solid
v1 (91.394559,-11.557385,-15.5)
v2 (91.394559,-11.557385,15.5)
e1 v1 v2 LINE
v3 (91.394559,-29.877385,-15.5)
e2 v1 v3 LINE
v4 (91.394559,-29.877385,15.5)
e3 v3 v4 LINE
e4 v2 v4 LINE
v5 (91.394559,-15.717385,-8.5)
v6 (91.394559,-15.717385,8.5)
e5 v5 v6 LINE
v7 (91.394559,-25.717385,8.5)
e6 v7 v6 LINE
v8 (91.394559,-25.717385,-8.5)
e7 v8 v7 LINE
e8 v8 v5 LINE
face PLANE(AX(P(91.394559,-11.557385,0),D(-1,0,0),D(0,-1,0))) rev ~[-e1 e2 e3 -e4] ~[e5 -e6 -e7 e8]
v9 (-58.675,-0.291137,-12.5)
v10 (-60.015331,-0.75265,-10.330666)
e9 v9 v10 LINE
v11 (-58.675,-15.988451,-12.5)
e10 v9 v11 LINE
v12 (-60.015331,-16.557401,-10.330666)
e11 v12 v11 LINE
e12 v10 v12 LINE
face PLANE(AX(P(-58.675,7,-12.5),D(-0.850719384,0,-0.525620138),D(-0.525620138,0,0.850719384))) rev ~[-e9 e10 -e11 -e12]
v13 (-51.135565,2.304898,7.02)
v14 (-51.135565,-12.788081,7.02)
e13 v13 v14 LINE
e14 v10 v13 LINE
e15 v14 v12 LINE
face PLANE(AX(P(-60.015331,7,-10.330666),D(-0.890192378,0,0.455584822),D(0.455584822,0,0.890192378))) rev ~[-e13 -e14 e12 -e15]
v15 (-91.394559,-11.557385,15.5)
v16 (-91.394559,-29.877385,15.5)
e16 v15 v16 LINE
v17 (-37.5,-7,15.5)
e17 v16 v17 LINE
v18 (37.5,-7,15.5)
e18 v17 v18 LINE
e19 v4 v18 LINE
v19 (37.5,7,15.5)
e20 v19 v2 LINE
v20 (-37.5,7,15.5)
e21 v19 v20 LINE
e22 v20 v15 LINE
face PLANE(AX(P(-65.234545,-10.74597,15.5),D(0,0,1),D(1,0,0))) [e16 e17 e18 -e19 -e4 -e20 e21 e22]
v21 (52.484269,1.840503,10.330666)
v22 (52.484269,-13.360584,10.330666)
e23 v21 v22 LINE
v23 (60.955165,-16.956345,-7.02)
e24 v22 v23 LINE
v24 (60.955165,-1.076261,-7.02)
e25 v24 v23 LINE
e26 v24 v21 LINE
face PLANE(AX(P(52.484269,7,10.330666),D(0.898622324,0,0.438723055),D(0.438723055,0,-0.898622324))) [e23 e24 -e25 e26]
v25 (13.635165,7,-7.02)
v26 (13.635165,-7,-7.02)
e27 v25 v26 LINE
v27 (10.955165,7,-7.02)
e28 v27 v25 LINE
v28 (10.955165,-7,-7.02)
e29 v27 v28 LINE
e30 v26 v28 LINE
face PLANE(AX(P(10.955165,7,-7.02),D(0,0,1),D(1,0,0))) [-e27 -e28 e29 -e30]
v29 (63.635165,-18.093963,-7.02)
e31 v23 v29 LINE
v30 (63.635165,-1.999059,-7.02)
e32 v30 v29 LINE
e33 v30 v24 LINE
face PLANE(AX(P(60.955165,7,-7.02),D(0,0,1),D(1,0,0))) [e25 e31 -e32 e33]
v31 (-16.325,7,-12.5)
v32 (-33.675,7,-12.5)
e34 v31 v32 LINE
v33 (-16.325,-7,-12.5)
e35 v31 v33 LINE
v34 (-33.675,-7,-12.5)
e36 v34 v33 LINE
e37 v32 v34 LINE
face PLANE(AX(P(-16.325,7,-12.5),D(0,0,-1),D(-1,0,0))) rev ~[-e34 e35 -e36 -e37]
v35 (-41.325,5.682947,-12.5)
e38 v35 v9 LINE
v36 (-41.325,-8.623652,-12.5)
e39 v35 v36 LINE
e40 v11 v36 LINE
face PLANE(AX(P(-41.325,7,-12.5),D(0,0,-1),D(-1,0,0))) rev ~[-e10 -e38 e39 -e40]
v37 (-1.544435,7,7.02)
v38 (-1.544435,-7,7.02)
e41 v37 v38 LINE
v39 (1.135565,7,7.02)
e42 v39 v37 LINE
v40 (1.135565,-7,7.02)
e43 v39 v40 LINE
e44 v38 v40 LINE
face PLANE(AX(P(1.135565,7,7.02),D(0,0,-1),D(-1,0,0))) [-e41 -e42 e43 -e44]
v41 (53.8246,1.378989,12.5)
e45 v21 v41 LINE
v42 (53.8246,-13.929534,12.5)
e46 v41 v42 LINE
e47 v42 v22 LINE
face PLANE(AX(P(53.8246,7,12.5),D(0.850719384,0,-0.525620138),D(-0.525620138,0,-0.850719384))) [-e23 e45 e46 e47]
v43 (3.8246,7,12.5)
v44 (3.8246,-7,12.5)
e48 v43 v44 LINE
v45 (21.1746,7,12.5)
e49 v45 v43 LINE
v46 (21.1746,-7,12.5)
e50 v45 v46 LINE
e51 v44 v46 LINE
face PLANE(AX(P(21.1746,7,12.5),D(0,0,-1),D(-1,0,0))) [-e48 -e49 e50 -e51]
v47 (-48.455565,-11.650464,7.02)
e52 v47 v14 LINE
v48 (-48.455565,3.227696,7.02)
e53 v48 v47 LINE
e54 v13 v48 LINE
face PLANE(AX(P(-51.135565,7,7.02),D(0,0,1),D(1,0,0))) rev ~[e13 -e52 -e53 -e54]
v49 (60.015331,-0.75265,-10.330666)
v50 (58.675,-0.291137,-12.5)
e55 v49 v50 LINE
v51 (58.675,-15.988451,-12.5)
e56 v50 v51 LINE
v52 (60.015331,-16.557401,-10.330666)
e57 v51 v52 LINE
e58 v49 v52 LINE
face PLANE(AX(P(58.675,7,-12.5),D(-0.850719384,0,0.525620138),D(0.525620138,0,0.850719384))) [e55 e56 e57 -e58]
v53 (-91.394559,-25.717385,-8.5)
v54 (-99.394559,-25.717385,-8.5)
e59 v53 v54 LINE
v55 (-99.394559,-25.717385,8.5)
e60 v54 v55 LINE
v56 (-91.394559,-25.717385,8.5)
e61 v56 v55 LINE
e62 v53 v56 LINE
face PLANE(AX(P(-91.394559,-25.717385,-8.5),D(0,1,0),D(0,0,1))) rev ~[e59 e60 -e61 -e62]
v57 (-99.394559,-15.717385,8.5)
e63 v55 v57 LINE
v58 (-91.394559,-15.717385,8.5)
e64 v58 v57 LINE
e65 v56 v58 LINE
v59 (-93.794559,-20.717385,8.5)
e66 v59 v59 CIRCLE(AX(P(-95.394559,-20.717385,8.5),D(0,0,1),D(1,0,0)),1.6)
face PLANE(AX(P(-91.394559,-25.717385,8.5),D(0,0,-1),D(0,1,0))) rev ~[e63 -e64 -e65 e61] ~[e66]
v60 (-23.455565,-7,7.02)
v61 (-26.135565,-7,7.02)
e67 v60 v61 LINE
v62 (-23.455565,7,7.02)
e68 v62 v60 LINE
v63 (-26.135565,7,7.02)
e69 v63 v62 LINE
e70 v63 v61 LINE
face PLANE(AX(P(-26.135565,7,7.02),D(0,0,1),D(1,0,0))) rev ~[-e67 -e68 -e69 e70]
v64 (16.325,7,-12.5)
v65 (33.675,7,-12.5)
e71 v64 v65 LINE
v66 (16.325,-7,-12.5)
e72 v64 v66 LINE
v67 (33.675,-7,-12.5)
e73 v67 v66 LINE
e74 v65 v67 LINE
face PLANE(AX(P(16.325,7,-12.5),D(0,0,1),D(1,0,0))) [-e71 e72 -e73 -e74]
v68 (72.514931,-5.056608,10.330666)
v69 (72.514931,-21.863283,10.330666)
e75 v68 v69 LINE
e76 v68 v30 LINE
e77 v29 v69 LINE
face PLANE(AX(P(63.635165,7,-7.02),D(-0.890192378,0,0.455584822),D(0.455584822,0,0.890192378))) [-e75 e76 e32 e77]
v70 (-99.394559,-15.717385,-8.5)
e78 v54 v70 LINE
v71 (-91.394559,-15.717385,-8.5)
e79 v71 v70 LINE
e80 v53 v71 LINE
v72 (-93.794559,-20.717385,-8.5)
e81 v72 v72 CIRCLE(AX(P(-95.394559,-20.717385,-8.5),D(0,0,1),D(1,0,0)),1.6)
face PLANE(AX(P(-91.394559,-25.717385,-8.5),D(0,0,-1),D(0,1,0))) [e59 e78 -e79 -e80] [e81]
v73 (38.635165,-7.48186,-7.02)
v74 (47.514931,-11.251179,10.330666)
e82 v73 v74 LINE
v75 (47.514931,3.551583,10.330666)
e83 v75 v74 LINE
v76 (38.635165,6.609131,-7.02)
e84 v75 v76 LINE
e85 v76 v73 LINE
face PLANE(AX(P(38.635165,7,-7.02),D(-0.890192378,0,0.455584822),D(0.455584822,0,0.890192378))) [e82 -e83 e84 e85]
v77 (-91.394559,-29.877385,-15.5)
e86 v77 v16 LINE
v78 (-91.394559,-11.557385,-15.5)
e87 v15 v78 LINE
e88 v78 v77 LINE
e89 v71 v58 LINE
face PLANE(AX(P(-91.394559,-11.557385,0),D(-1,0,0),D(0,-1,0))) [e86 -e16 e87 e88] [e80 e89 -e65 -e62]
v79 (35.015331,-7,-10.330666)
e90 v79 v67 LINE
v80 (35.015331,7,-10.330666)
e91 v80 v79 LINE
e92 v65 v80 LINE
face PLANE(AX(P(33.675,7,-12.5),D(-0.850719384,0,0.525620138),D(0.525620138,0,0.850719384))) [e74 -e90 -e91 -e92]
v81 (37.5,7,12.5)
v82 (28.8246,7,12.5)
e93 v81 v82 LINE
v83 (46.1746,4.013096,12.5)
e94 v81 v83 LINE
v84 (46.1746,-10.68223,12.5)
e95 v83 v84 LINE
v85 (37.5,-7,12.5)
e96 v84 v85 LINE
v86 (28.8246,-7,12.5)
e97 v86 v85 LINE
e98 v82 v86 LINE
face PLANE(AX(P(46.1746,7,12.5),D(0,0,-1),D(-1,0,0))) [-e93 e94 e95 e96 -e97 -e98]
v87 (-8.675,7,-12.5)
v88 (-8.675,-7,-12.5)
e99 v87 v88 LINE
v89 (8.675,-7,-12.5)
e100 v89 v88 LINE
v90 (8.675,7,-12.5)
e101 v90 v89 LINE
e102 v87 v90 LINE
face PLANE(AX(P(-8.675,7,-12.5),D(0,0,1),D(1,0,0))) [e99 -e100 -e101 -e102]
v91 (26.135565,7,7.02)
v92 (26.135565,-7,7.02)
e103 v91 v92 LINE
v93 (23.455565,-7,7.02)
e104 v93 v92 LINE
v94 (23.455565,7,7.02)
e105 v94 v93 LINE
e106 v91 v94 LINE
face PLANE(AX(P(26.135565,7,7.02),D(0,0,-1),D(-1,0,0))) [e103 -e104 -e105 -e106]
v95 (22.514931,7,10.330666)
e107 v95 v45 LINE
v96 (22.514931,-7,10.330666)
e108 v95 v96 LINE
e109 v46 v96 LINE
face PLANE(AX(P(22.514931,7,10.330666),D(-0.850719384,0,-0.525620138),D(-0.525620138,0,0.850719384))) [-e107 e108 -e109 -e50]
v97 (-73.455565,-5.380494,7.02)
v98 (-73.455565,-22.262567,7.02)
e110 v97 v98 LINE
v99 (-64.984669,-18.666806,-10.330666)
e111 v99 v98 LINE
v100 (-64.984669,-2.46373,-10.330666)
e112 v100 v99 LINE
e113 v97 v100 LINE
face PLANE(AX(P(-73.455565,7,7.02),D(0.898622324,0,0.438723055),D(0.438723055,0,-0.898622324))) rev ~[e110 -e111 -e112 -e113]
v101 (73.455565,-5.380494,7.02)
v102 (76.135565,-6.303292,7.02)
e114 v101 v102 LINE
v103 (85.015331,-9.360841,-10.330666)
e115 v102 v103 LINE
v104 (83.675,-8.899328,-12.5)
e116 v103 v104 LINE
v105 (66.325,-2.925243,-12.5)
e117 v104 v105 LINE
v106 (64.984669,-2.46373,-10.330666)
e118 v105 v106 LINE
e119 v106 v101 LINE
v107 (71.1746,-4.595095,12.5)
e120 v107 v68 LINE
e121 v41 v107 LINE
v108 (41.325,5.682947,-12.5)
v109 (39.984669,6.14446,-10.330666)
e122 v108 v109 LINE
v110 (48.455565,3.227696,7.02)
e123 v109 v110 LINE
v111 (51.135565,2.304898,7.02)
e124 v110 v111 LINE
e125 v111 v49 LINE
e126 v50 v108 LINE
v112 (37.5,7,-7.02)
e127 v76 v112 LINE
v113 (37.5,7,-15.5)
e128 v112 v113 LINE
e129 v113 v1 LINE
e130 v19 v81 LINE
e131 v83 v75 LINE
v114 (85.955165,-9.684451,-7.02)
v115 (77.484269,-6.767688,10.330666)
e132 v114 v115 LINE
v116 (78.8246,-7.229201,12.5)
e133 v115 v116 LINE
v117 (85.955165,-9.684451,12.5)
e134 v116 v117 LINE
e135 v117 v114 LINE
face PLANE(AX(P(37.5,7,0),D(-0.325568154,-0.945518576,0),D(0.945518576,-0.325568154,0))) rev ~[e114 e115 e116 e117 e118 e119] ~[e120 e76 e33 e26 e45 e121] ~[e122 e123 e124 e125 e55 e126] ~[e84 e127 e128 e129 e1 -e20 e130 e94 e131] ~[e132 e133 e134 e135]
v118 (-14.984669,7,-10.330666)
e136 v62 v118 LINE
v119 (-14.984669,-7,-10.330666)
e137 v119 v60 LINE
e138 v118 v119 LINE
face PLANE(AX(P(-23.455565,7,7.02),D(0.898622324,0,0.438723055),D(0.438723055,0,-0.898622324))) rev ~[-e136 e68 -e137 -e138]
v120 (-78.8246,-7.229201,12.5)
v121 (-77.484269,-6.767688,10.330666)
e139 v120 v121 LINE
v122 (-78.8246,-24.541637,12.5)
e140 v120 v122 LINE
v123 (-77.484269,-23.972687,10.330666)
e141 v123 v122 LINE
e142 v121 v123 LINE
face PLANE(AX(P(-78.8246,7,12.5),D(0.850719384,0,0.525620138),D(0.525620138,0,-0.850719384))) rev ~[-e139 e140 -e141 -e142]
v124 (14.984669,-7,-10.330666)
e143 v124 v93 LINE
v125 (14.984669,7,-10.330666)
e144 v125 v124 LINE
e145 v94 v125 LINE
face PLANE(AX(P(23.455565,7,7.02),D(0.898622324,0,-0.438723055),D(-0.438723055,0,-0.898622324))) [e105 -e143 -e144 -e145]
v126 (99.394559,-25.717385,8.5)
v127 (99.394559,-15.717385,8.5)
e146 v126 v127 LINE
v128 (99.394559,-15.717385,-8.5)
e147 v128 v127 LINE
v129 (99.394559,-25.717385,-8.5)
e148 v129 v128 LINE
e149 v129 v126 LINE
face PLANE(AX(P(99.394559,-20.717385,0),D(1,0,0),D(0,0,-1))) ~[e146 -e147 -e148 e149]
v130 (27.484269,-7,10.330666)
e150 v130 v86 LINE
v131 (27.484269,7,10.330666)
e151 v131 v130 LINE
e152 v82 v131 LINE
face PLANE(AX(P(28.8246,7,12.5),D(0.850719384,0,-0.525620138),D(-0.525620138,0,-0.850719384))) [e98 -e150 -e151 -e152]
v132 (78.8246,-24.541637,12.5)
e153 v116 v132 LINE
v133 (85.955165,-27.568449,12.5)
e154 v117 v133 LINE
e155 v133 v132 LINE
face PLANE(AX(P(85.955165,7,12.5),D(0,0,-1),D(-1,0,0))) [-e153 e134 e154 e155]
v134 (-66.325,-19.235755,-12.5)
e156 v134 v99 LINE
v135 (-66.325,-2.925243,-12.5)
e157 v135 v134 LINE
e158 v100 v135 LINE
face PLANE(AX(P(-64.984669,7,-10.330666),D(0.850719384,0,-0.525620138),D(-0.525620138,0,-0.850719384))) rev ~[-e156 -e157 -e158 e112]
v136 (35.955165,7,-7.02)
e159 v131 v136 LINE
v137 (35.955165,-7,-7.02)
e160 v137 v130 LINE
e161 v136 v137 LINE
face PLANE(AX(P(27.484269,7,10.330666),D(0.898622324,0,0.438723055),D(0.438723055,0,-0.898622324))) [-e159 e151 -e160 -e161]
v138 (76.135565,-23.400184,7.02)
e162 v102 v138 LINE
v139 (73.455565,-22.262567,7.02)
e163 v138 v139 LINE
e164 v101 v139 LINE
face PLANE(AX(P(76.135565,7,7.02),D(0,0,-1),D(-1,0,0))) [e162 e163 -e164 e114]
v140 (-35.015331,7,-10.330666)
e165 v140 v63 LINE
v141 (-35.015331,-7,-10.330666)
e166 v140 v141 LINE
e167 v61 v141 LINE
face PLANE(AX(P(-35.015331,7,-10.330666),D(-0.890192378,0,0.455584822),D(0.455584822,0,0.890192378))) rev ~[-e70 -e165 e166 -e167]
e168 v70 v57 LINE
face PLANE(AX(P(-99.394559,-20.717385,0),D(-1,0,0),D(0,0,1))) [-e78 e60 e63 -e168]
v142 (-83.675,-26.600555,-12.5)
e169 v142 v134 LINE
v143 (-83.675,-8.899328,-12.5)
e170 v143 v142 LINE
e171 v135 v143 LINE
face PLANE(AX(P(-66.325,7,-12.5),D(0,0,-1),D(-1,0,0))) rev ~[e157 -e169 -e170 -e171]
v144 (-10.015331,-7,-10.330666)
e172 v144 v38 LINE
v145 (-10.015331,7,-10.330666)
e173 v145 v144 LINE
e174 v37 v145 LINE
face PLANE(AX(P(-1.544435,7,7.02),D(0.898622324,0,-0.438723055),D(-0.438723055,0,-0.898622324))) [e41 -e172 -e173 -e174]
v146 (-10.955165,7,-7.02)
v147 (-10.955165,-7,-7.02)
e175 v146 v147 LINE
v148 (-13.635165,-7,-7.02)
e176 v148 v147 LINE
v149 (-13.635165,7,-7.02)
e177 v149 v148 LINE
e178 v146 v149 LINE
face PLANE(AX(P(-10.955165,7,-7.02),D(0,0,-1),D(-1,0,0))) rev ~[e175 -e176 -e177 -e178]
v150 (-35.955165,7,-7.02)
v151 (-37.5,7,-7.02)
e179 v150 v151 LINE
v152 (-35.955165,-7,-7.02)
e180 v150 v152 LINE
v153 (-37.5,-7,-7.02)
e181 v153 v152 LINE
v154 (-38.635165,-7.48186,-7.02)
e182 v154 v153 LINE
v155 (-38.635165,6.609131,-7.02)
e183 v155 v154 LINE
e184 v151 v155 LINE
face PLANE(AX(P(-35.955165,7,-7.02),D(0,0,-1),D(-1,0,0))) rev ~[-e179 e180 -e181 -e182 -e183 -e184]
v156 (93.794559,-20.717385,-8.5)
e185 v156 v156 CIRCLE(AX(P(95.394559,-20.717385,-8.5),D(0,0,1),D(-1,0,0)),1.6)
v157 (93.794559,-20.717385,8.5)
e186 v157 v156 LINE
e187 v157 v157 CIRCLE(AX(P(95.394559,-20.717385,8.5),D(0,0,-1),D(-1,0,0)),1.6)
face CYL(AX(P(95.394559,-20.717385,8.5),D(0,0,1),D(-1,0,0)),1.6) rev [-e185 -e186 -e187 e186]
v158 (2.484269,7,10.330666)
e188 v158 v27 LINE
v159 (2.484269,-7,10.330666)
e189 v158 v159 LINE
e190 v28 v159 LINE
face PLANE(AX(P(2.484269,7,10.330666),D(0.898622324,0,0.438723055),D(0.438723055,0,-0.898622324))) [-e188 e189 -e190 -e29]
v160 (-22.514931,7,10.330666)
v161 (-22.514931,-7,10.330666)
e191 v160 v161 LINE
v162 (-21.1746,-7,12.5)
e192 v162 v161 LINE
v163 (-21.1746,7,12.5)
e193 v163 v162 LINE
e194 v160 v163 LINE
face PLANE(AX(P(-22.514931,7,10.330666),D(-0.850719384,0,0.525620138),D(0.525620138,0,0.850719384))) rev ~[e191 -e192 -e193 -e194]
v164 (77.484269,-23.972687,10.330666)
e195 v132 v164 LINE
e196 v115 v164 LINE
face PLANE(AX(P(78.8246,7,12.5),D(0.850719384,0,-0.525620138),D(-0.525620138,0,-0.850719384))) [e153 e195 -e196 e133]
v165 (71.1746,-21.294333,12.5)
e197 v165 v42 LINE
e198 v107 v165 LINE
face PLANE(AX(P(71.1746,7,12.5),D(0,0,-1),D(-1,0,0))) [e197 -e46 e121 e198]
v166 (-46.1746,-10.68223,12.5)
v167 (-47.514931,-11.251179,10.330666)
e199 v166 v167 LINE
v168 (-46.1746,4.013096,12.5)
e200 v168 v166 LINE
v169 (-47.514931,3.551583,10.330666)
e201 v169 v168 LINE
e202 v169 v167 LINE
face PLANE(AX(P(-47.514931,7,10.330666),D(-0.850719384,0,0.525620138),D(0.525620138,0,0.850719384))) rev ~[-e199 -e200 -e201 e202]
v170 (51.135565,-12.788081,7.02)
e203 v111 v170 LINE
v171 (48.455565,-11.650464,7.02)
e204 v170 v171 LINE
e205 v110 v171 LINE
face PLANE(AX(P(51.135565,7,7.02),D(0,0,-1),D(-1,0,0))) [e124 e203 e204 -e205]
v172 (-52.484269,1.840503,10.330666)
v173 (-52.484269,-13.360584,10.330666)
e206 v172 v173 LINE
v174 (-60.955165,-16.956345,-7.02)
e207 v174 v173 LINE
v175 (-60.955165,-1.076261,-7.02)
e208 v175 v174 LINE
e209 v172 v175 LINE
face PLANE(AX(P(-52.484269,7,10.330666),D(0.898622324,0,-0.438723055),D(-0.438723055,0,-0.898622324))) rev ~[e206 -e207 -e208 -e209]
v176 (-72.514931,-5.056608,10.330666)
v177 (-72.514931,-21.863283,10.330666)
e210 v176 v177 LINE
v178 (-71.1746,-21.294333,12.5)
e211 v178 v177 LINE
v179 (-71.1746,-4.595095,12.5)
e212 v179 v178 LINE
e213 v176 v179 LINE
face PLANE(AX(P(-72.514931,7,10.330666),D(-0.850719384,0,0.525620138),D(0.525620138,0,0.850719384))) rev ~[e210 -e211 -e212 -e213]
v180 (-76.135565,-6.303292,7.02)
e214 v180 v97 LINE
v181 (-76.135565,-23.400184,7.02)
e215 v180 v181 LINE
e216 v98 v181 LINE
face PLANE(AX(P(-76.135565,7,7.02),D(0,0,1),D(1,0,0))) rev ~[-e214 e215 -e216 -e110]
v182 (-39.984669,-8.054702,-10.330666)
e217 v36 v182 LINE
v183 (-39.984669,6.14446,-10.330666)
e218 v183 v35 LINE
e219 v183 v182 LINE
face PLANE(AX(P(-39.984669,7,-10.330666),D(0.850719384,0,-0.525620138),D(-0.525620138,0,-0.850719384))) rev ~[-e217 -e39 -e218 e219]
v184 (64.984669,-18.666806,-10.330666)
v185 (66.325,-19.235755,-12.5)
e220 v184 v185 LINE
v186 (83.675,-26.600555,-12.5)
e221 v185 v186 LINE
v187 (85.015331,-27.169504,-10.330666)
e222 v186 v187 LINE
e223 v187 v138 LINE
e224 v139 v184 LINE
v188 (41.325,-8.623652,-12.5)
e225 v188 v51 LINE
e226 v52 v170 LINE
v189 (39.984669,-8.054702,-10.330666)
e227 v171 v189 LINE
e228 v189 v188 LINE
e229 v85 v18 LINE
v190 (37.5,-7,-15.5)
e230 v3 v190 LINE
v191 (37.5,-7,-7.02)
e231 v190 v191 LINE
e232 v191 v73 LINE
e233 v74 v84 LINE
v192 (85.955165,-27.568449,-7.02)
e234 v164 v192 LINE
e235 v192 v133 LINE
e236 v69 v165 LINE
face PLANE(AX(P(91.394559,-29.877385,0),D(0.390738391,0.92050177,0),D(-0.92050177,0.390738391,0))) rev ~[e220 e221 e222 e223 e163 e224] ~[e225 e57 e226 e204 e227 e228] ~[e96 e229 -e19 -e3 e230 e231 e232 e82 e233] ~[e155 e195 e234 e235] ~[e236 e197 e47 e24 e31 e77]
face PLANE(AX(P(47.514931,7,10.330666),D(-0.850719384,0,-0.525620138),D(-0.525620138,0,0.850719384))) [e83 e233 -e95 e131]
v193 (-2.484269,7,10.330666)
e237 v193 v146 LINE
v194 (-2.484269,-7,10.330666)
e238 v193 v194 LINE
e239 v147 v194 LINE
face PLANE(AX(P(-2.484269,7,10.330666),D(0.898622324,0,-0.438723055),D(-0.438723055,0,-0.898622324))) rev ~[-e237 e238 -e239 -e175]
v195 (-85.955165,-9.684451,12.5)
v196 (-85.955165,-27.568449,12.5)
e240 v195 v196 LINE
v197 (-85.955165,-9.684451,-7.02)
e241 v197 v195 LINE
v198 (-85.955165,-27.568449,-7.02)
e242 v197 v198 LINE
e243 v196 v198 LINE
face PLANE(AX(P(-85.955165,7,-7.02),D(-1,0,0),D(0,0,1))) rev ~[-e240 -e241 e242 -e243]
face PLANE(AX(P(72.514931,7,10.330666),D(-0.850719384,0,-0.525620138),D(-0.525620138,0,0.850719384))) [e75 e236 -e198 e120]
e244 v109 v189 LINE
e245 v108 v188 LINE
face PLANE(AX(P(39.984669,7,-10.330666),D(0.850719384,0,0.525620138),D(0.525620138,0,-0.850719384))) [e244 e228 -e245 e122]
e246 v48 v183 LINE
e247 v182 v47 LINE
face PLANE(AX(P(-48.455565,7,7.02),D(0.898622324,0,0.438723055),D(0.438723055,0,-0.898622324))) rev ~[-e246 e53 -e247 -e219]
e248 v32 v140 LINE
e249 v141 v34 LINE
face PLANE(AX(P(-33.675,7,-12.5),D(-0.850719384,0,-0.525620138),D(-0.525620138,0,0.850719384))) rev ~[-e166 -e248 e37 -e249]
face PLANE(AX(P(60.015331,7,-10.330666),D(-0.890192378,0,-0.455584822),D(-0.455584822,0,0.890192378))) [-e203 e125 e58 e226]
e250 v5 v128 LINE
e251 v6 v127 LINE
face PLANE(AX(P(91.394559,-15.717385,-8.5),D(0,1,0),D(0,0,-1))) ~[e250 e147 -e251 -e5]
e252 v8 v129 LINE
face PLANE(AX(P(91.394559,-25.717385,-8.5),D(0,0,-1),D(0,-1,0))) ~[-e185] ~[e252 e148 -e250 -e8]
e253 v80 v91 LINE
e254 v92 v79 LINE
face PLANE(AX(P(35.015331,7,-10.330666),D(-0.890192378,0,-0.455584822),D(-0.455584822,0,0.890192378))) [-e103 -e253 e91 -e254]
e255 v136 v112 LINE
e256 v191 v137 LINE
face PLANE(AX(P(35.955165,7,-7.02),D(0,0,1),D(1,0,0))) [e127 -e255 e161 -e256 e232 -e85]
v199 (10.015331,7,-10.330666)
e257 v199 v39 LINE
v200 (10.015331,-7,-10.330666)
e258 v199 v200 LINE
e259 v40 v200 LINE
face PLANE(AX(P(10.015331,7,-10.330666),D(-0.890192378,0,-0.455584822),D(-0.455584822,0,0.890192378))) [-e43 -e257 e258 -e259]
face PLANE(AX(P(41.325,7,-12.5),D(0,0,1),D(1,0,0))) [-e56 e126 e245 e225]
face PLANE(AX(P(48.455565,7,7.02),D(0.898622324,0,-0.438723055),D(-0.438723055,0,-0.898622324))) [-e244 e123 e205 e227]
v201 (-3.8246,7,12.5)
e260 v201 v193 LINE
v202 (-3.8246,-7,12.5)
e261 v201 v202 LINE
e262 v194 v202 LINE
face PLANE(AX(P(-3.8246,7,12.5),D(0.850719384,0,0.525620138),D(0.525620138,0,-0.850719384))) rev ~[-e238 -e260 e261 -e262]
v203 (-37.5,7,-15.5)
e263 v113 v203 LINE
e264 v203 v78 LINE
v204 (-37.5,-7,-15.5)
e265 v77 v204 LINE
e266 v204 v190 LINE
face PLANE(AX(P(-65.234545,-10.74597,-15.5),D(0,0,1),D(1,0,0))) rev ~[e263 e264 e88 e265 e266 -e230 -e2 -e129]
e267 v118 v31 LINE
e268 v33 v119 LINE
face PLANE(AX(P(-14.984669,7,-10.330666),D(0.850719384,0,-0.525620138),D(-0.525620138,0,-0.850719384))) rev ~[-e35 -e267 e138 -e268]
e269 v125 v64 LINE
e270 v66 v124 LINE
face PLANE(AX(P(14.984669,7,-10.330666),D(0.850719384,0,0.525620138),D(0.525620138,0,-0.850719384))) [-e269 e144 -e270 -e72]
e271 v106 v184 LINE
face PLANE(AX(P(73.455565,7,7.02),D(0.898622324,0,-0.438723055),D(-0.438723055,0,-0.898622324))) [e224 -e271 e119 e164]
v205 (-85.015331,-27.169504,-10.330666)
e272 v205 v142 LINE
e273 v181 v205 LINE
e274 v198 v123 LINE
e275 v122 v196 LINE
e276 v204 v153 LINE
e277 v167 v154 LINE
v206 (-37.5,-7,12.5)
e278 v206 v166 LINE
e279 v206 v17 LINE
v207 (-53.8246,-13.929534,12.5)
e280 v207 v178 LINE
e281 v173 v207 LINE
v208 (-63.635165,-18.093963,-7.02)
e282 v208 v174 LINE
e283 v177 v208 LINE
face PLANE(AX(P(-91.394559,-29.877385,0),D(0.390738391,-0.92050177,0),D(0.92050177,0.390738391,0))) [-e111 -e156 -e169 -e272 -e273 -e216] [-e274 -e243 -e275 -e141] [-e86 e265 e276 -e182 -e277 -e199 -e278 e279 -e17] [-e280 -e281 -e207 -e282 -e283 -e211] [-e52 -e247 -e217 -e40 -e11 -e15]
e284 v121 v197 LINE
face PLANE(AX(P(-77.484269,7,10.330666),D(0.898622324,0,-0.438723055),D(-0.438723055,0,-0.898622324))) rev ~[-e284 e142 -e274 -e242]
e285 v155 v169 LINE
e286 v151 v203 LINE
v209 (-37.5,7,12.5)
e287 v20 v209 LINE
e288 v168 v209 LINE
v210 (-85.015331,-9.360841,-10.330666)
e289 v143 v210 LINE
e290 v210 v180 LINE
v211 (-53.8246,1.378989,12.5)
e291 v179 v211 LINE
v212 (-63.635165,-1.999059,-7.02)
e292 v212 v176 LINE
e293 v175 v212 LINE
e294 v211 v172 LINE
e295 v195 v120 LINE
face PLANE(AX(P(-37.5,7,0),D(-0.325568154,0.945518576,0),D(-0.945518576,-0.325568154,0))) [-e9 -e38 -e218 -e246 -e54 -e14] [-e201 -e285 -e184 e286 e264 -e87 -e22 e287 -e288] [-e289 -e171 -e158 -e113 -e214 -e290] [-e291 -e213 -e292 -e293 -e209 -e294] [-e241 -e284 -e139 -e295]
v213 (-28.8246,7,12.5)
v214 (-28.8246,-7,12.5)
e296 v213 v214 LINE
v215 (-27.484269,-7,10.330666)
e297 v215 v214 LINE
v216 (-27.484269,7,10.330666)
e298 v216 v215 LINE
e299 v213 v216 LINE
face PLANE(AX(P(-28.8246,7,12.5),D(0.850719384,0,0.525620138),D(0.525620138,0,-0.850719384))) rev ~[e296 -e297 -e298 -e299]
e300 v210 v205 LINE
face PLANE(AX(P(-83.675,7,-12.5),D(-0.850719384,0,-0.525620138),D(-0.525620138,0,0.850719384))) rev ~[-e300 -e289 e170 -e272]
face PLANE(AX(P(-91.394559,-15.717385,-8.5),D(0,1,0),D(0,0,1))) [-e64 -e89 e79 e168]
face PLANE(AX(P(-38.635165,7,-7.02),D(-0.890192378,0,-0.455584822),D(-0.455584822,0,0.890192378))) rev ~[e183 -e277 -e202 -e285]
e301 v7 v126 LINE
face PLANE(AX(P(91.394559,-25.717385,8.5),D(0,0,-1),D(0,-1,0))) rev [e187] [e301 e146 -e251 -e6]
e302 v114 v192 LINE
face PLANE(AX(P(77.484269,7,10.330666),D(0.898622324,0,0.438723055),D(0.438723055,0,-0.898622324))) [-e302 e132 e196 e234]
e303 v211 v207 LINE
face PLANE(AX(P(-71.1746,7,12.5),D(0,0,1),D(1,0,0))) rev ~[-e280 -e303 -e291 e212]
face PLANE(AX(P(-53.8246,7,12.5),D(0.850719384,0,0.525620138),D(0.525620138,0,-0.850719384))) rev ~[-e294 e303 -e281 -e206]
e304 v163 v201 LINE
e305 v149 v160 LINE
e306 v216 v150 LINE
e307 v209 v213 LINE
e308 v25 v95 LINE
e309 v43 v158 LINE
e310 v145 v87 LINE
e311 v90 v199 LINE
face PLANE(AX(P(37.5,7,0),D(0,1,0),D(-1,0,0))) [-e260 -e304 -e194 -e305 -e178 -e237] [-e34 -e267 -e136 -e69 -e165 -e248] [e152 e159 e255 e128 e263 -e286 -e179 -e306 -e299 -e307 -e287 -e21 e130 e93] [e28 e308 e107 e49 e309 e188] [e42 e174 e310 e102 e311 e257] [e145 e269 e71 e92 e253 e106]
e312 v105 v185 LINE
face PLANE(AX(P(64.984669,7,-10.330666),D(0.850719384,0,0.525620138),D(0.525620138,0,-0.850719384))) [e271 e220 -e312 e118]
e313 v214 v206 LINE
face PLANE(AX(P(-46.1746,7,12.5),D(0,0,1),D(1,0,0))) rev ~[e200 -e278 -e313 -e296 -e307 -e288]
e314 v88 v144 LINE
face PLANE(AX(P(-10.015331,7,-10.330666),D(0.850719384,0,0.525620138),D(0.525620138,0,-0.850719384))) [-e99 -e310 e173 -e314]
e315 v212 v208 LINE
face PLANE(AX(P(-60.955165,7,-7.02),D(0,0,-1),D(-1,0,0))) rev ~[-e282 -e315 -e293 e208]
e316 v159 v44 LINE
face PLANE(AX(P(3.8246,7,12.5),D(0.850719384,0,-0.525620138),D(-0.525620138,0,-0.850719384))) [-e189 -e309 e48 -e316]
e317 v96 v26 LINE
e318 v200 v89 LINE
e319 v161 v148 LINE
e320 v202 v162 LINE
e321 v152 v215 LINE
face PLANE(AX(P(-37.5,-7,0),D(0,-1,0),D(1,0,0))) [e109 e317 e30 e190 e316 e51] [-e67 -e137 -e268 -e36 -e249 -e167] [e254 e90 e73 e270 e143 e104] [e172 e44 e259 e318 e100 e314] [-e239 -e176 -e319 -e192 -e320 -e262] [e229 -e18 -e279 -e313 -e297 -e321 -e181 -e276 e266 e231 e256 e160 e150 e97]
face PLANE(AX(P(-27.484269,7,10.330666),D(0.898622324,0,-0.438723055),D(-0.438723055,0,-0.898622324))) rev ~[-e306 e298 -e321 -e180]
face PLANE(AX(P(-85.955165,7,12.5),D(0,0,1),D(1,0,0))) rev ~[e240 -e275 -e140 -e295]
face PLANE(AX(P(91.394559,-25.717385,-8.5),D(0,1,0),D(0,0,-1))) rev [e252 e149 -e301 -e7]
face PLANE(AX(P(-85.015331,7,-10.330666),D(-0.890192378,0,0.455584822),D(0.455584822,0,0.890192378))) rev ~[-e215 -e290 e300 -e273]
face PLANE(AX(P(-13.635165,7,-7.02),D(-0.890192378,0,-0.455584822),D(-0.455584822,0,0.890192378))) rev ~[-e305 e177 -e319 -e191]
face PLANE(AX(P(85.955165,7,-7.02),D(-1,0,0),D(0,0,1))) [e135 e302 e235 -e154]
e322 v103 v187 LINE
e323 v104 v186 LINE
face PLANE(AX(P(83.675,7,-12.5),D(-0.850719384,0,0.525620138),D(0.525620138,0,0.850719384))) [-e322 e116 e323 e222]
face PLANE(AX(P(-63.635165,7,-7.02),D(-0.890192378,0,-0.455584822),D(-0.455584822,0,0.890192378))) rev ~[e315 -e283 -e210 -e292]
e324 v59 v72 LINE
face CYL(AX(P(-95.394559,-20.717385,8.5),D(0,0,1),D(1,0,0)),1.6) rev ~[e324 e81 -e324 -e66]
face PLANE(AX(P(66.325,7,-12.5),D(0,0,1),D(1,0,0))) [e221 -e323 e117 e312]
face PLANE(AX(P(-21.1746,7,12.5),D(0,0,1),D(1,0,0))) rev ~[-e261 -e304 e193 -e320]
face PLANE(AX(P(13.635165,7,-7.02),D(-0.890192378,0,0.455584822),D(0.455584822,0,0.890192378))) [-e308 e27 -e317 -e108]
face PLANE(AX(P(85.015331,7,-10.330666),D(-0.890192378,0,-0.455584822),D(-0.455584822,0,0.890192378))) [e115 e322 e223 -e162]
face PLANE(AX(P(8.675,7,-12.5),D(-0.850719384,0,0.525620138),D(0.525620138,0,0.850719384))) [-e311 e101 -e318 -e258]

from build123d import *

# Parameters (mm, degrees)
CROQUIS1_W              = 37.5
CROQUIS1_H              = 14
SALIENTE_EXTRUIR1_DEPTH = 15.5
CROQUIS2_W              = 17
CROQUIS2_H              = 10
SALIENTE_EXTRUIR2_DEPTH = 8
CROQUIS3_R              = 1.6
CORTAR_EXTRUIR1_DEPTH   = 107.526693573
CORTAR_EXTRUIR2_DEPTH   = 108.142287781


with BuildPart() as part:
    # Croquis1 → Saliente-Extruir1 (new, symmetric)
    with BuildSketch(Plane.XY):
        Polygon((-91.394558809, -11.557384804), (-91.394558809, -29.877384804), (-37.5, -7), (-37.5, 7), align=None)
        Polygon((37.5, 7), (91.394558809, -11.557384804), (91.394558809, -29.877384804), (37.5, -7), align=None)
        with Locations((18.75, 0)):
            Rectangle(CROQUIS1_W, CROQUIS1_H)
        with Locations((-18.75, 0)):
            Rectangle(CROQUIS1_W, CROQUIS1_H)
    extrude(amount=SALIENTE_EXTRUIR1_DEPTH, both=True)

    # Croquis2 → Saliente-Extruir2 (add)
    with BuildSketch(Plane.ZY.offset(91.394558809)):
        with Locations((0, -20.717384804)):
            Rectangle(CROQUIS2_W, CROQUIS2_H)
    saliente_extruir2 = extrude(amount=SALIENTE_EXTRUIR2_DEPTH)

    # Croquis3 → Cortar-Extruir1 (cut, through all)
    with BuildSketch(Plane.XY.offset(8.5)):
        with Locations((-95.394558809, -20.717384804)):
            Circle(CROQUIS3_R)
    cortar_extruir1 = extrude(amount=-CORTAR_EXTRUIR1_DEPTH, mode=Mode.SUBTRACT)

    # Simetría1: Saliente-Extruir2, Cortar-Extruir1 across plane
    add(saliente_extruir2.mirror(Plane(origin=(0, 0, 0), x_dir=(0, 0, 1), z_dir=(1, 0, 0))))
    add(cortar_extruir1.mirror(Plane(origin=(0, 0, 0), x_dir=(0, 0, 1), z_dir=(1, 0, 0))), mode=Mode.SUBTRACT)

    # Croquis4 → Cortar-Extruir2 (cut, through all)
    with BuildSketch(Plane(origin=(0, 7, 0), x_dir=(1, 0, 0), z_dir=(0, 1, 0))):
        Polygon((-8.675, 12.5), (8.675, 12.5), (10.015331351, 10.33066557), (1.135565493, -7.02), (-1.544434507, -7.02), (-10.015331351, 10.33066557), align=None)
        Polygon((3.8246, -12.5), (2.484268649, -10.33066557), (10.955165493, 7.02), (13.635165493, 7.02), (22.514931351, -10.33066557), (21.1746, -12.5), align=None)
        Polygon((35.015331351, 10.33066557), (26.135565493, -7.02), (23.455565493, -7.02), (14.984668649, 10.33066557), (16.325, 12.5), (33.675, 12.5), align=None)
        Polygon((28.8246, -12.5), (27.484268649, -10.33066557), (35.955165493, 7.02), (38.635165493, 7.02), (47.514931351, -10.33066557), (46.1746, -12.5), align=None)
        Polygon((60.015331351, 10.33066557), (51.135565493, -7.02), (48.455565493, -7.02), (39.984668649, 10.33066557), (41.325, 12.5), (58.675, 12.5), align=None)
        Polygon((53.8246, -12.5), (52.484268649, -10.33066557), (60.955165493, 7.02), (63.635165493, 7.02), (72.514931351, -10.33066557), (71.1746, -12.5), align=None)
        Polygon((85.015331351, 10.33066557), (76.135565493, -7.02), (73.455565493, -7.02), (64.984668649, 10.33066557), (66.325, 12.5), (83.675, 12.5), align=None)
        Polygon((78.8246, -12.5), (77.484268649, -10.33066557), (85.955165493, 7.02), (85.955165493, -12.5), align=None)
        Polygon((-3.8246, -12.5), (-2.484268649, -10.33066557), (-10.955165493, 7.02), (-13.635165493, 7.02), (-22.514931351, -10.33066557), (-21.1746, -12.5), align=None)
        Polygon((-83.675, 12.5), (-85.015331351, 10.33066557), (-76.135565493, -7.02), (-73.455565493, -7.02), (-64.984668649, 10.33066557), (-66.325, 12.5), align=None)
        Polygon((-60.955165493, 7.02), (-63.635165493, 7.02), (-72.514931351, -10.33066557), (-71.1746, -12.5), (-53.8246, -12.5), (-52.484268649, -10.33066557), align=None)
        Polygon((-58.675, 12.5), (-60.015331351, 10.33066557), (-51.135565493, -7.02), (-48.455565493, -7.02), (-39.984668649, 10.33066557), (-41.325, 12.5), align=None)
        Polygon((-35.955165493, 7.02), (-38.635165493, 7.02), (-47.514931351, -10.33066557), (-46.1746, -12.5), (-28.8246, -12.5), (-27.484268649, -10.33066557), align=None)
        Polygon((-33.675, 12.5), (-35.015331351, 10.33066557), (-26.135565493, -7.02), (-23.455565493, -7.02), (-14.984668649, 10.33066557), (-16.325, 12.5), align=None)
        Polygon((-85.955165493, 7.02), (-85.955165493, -12.5), (-78.8246, -12.5), (-77.484268649, -10.33066557), align=None)
    extrude(amount=-CORTAR_EXTRUIR2_DEPTH, mode=Mode.SUBTRACT)


solid = part.part
